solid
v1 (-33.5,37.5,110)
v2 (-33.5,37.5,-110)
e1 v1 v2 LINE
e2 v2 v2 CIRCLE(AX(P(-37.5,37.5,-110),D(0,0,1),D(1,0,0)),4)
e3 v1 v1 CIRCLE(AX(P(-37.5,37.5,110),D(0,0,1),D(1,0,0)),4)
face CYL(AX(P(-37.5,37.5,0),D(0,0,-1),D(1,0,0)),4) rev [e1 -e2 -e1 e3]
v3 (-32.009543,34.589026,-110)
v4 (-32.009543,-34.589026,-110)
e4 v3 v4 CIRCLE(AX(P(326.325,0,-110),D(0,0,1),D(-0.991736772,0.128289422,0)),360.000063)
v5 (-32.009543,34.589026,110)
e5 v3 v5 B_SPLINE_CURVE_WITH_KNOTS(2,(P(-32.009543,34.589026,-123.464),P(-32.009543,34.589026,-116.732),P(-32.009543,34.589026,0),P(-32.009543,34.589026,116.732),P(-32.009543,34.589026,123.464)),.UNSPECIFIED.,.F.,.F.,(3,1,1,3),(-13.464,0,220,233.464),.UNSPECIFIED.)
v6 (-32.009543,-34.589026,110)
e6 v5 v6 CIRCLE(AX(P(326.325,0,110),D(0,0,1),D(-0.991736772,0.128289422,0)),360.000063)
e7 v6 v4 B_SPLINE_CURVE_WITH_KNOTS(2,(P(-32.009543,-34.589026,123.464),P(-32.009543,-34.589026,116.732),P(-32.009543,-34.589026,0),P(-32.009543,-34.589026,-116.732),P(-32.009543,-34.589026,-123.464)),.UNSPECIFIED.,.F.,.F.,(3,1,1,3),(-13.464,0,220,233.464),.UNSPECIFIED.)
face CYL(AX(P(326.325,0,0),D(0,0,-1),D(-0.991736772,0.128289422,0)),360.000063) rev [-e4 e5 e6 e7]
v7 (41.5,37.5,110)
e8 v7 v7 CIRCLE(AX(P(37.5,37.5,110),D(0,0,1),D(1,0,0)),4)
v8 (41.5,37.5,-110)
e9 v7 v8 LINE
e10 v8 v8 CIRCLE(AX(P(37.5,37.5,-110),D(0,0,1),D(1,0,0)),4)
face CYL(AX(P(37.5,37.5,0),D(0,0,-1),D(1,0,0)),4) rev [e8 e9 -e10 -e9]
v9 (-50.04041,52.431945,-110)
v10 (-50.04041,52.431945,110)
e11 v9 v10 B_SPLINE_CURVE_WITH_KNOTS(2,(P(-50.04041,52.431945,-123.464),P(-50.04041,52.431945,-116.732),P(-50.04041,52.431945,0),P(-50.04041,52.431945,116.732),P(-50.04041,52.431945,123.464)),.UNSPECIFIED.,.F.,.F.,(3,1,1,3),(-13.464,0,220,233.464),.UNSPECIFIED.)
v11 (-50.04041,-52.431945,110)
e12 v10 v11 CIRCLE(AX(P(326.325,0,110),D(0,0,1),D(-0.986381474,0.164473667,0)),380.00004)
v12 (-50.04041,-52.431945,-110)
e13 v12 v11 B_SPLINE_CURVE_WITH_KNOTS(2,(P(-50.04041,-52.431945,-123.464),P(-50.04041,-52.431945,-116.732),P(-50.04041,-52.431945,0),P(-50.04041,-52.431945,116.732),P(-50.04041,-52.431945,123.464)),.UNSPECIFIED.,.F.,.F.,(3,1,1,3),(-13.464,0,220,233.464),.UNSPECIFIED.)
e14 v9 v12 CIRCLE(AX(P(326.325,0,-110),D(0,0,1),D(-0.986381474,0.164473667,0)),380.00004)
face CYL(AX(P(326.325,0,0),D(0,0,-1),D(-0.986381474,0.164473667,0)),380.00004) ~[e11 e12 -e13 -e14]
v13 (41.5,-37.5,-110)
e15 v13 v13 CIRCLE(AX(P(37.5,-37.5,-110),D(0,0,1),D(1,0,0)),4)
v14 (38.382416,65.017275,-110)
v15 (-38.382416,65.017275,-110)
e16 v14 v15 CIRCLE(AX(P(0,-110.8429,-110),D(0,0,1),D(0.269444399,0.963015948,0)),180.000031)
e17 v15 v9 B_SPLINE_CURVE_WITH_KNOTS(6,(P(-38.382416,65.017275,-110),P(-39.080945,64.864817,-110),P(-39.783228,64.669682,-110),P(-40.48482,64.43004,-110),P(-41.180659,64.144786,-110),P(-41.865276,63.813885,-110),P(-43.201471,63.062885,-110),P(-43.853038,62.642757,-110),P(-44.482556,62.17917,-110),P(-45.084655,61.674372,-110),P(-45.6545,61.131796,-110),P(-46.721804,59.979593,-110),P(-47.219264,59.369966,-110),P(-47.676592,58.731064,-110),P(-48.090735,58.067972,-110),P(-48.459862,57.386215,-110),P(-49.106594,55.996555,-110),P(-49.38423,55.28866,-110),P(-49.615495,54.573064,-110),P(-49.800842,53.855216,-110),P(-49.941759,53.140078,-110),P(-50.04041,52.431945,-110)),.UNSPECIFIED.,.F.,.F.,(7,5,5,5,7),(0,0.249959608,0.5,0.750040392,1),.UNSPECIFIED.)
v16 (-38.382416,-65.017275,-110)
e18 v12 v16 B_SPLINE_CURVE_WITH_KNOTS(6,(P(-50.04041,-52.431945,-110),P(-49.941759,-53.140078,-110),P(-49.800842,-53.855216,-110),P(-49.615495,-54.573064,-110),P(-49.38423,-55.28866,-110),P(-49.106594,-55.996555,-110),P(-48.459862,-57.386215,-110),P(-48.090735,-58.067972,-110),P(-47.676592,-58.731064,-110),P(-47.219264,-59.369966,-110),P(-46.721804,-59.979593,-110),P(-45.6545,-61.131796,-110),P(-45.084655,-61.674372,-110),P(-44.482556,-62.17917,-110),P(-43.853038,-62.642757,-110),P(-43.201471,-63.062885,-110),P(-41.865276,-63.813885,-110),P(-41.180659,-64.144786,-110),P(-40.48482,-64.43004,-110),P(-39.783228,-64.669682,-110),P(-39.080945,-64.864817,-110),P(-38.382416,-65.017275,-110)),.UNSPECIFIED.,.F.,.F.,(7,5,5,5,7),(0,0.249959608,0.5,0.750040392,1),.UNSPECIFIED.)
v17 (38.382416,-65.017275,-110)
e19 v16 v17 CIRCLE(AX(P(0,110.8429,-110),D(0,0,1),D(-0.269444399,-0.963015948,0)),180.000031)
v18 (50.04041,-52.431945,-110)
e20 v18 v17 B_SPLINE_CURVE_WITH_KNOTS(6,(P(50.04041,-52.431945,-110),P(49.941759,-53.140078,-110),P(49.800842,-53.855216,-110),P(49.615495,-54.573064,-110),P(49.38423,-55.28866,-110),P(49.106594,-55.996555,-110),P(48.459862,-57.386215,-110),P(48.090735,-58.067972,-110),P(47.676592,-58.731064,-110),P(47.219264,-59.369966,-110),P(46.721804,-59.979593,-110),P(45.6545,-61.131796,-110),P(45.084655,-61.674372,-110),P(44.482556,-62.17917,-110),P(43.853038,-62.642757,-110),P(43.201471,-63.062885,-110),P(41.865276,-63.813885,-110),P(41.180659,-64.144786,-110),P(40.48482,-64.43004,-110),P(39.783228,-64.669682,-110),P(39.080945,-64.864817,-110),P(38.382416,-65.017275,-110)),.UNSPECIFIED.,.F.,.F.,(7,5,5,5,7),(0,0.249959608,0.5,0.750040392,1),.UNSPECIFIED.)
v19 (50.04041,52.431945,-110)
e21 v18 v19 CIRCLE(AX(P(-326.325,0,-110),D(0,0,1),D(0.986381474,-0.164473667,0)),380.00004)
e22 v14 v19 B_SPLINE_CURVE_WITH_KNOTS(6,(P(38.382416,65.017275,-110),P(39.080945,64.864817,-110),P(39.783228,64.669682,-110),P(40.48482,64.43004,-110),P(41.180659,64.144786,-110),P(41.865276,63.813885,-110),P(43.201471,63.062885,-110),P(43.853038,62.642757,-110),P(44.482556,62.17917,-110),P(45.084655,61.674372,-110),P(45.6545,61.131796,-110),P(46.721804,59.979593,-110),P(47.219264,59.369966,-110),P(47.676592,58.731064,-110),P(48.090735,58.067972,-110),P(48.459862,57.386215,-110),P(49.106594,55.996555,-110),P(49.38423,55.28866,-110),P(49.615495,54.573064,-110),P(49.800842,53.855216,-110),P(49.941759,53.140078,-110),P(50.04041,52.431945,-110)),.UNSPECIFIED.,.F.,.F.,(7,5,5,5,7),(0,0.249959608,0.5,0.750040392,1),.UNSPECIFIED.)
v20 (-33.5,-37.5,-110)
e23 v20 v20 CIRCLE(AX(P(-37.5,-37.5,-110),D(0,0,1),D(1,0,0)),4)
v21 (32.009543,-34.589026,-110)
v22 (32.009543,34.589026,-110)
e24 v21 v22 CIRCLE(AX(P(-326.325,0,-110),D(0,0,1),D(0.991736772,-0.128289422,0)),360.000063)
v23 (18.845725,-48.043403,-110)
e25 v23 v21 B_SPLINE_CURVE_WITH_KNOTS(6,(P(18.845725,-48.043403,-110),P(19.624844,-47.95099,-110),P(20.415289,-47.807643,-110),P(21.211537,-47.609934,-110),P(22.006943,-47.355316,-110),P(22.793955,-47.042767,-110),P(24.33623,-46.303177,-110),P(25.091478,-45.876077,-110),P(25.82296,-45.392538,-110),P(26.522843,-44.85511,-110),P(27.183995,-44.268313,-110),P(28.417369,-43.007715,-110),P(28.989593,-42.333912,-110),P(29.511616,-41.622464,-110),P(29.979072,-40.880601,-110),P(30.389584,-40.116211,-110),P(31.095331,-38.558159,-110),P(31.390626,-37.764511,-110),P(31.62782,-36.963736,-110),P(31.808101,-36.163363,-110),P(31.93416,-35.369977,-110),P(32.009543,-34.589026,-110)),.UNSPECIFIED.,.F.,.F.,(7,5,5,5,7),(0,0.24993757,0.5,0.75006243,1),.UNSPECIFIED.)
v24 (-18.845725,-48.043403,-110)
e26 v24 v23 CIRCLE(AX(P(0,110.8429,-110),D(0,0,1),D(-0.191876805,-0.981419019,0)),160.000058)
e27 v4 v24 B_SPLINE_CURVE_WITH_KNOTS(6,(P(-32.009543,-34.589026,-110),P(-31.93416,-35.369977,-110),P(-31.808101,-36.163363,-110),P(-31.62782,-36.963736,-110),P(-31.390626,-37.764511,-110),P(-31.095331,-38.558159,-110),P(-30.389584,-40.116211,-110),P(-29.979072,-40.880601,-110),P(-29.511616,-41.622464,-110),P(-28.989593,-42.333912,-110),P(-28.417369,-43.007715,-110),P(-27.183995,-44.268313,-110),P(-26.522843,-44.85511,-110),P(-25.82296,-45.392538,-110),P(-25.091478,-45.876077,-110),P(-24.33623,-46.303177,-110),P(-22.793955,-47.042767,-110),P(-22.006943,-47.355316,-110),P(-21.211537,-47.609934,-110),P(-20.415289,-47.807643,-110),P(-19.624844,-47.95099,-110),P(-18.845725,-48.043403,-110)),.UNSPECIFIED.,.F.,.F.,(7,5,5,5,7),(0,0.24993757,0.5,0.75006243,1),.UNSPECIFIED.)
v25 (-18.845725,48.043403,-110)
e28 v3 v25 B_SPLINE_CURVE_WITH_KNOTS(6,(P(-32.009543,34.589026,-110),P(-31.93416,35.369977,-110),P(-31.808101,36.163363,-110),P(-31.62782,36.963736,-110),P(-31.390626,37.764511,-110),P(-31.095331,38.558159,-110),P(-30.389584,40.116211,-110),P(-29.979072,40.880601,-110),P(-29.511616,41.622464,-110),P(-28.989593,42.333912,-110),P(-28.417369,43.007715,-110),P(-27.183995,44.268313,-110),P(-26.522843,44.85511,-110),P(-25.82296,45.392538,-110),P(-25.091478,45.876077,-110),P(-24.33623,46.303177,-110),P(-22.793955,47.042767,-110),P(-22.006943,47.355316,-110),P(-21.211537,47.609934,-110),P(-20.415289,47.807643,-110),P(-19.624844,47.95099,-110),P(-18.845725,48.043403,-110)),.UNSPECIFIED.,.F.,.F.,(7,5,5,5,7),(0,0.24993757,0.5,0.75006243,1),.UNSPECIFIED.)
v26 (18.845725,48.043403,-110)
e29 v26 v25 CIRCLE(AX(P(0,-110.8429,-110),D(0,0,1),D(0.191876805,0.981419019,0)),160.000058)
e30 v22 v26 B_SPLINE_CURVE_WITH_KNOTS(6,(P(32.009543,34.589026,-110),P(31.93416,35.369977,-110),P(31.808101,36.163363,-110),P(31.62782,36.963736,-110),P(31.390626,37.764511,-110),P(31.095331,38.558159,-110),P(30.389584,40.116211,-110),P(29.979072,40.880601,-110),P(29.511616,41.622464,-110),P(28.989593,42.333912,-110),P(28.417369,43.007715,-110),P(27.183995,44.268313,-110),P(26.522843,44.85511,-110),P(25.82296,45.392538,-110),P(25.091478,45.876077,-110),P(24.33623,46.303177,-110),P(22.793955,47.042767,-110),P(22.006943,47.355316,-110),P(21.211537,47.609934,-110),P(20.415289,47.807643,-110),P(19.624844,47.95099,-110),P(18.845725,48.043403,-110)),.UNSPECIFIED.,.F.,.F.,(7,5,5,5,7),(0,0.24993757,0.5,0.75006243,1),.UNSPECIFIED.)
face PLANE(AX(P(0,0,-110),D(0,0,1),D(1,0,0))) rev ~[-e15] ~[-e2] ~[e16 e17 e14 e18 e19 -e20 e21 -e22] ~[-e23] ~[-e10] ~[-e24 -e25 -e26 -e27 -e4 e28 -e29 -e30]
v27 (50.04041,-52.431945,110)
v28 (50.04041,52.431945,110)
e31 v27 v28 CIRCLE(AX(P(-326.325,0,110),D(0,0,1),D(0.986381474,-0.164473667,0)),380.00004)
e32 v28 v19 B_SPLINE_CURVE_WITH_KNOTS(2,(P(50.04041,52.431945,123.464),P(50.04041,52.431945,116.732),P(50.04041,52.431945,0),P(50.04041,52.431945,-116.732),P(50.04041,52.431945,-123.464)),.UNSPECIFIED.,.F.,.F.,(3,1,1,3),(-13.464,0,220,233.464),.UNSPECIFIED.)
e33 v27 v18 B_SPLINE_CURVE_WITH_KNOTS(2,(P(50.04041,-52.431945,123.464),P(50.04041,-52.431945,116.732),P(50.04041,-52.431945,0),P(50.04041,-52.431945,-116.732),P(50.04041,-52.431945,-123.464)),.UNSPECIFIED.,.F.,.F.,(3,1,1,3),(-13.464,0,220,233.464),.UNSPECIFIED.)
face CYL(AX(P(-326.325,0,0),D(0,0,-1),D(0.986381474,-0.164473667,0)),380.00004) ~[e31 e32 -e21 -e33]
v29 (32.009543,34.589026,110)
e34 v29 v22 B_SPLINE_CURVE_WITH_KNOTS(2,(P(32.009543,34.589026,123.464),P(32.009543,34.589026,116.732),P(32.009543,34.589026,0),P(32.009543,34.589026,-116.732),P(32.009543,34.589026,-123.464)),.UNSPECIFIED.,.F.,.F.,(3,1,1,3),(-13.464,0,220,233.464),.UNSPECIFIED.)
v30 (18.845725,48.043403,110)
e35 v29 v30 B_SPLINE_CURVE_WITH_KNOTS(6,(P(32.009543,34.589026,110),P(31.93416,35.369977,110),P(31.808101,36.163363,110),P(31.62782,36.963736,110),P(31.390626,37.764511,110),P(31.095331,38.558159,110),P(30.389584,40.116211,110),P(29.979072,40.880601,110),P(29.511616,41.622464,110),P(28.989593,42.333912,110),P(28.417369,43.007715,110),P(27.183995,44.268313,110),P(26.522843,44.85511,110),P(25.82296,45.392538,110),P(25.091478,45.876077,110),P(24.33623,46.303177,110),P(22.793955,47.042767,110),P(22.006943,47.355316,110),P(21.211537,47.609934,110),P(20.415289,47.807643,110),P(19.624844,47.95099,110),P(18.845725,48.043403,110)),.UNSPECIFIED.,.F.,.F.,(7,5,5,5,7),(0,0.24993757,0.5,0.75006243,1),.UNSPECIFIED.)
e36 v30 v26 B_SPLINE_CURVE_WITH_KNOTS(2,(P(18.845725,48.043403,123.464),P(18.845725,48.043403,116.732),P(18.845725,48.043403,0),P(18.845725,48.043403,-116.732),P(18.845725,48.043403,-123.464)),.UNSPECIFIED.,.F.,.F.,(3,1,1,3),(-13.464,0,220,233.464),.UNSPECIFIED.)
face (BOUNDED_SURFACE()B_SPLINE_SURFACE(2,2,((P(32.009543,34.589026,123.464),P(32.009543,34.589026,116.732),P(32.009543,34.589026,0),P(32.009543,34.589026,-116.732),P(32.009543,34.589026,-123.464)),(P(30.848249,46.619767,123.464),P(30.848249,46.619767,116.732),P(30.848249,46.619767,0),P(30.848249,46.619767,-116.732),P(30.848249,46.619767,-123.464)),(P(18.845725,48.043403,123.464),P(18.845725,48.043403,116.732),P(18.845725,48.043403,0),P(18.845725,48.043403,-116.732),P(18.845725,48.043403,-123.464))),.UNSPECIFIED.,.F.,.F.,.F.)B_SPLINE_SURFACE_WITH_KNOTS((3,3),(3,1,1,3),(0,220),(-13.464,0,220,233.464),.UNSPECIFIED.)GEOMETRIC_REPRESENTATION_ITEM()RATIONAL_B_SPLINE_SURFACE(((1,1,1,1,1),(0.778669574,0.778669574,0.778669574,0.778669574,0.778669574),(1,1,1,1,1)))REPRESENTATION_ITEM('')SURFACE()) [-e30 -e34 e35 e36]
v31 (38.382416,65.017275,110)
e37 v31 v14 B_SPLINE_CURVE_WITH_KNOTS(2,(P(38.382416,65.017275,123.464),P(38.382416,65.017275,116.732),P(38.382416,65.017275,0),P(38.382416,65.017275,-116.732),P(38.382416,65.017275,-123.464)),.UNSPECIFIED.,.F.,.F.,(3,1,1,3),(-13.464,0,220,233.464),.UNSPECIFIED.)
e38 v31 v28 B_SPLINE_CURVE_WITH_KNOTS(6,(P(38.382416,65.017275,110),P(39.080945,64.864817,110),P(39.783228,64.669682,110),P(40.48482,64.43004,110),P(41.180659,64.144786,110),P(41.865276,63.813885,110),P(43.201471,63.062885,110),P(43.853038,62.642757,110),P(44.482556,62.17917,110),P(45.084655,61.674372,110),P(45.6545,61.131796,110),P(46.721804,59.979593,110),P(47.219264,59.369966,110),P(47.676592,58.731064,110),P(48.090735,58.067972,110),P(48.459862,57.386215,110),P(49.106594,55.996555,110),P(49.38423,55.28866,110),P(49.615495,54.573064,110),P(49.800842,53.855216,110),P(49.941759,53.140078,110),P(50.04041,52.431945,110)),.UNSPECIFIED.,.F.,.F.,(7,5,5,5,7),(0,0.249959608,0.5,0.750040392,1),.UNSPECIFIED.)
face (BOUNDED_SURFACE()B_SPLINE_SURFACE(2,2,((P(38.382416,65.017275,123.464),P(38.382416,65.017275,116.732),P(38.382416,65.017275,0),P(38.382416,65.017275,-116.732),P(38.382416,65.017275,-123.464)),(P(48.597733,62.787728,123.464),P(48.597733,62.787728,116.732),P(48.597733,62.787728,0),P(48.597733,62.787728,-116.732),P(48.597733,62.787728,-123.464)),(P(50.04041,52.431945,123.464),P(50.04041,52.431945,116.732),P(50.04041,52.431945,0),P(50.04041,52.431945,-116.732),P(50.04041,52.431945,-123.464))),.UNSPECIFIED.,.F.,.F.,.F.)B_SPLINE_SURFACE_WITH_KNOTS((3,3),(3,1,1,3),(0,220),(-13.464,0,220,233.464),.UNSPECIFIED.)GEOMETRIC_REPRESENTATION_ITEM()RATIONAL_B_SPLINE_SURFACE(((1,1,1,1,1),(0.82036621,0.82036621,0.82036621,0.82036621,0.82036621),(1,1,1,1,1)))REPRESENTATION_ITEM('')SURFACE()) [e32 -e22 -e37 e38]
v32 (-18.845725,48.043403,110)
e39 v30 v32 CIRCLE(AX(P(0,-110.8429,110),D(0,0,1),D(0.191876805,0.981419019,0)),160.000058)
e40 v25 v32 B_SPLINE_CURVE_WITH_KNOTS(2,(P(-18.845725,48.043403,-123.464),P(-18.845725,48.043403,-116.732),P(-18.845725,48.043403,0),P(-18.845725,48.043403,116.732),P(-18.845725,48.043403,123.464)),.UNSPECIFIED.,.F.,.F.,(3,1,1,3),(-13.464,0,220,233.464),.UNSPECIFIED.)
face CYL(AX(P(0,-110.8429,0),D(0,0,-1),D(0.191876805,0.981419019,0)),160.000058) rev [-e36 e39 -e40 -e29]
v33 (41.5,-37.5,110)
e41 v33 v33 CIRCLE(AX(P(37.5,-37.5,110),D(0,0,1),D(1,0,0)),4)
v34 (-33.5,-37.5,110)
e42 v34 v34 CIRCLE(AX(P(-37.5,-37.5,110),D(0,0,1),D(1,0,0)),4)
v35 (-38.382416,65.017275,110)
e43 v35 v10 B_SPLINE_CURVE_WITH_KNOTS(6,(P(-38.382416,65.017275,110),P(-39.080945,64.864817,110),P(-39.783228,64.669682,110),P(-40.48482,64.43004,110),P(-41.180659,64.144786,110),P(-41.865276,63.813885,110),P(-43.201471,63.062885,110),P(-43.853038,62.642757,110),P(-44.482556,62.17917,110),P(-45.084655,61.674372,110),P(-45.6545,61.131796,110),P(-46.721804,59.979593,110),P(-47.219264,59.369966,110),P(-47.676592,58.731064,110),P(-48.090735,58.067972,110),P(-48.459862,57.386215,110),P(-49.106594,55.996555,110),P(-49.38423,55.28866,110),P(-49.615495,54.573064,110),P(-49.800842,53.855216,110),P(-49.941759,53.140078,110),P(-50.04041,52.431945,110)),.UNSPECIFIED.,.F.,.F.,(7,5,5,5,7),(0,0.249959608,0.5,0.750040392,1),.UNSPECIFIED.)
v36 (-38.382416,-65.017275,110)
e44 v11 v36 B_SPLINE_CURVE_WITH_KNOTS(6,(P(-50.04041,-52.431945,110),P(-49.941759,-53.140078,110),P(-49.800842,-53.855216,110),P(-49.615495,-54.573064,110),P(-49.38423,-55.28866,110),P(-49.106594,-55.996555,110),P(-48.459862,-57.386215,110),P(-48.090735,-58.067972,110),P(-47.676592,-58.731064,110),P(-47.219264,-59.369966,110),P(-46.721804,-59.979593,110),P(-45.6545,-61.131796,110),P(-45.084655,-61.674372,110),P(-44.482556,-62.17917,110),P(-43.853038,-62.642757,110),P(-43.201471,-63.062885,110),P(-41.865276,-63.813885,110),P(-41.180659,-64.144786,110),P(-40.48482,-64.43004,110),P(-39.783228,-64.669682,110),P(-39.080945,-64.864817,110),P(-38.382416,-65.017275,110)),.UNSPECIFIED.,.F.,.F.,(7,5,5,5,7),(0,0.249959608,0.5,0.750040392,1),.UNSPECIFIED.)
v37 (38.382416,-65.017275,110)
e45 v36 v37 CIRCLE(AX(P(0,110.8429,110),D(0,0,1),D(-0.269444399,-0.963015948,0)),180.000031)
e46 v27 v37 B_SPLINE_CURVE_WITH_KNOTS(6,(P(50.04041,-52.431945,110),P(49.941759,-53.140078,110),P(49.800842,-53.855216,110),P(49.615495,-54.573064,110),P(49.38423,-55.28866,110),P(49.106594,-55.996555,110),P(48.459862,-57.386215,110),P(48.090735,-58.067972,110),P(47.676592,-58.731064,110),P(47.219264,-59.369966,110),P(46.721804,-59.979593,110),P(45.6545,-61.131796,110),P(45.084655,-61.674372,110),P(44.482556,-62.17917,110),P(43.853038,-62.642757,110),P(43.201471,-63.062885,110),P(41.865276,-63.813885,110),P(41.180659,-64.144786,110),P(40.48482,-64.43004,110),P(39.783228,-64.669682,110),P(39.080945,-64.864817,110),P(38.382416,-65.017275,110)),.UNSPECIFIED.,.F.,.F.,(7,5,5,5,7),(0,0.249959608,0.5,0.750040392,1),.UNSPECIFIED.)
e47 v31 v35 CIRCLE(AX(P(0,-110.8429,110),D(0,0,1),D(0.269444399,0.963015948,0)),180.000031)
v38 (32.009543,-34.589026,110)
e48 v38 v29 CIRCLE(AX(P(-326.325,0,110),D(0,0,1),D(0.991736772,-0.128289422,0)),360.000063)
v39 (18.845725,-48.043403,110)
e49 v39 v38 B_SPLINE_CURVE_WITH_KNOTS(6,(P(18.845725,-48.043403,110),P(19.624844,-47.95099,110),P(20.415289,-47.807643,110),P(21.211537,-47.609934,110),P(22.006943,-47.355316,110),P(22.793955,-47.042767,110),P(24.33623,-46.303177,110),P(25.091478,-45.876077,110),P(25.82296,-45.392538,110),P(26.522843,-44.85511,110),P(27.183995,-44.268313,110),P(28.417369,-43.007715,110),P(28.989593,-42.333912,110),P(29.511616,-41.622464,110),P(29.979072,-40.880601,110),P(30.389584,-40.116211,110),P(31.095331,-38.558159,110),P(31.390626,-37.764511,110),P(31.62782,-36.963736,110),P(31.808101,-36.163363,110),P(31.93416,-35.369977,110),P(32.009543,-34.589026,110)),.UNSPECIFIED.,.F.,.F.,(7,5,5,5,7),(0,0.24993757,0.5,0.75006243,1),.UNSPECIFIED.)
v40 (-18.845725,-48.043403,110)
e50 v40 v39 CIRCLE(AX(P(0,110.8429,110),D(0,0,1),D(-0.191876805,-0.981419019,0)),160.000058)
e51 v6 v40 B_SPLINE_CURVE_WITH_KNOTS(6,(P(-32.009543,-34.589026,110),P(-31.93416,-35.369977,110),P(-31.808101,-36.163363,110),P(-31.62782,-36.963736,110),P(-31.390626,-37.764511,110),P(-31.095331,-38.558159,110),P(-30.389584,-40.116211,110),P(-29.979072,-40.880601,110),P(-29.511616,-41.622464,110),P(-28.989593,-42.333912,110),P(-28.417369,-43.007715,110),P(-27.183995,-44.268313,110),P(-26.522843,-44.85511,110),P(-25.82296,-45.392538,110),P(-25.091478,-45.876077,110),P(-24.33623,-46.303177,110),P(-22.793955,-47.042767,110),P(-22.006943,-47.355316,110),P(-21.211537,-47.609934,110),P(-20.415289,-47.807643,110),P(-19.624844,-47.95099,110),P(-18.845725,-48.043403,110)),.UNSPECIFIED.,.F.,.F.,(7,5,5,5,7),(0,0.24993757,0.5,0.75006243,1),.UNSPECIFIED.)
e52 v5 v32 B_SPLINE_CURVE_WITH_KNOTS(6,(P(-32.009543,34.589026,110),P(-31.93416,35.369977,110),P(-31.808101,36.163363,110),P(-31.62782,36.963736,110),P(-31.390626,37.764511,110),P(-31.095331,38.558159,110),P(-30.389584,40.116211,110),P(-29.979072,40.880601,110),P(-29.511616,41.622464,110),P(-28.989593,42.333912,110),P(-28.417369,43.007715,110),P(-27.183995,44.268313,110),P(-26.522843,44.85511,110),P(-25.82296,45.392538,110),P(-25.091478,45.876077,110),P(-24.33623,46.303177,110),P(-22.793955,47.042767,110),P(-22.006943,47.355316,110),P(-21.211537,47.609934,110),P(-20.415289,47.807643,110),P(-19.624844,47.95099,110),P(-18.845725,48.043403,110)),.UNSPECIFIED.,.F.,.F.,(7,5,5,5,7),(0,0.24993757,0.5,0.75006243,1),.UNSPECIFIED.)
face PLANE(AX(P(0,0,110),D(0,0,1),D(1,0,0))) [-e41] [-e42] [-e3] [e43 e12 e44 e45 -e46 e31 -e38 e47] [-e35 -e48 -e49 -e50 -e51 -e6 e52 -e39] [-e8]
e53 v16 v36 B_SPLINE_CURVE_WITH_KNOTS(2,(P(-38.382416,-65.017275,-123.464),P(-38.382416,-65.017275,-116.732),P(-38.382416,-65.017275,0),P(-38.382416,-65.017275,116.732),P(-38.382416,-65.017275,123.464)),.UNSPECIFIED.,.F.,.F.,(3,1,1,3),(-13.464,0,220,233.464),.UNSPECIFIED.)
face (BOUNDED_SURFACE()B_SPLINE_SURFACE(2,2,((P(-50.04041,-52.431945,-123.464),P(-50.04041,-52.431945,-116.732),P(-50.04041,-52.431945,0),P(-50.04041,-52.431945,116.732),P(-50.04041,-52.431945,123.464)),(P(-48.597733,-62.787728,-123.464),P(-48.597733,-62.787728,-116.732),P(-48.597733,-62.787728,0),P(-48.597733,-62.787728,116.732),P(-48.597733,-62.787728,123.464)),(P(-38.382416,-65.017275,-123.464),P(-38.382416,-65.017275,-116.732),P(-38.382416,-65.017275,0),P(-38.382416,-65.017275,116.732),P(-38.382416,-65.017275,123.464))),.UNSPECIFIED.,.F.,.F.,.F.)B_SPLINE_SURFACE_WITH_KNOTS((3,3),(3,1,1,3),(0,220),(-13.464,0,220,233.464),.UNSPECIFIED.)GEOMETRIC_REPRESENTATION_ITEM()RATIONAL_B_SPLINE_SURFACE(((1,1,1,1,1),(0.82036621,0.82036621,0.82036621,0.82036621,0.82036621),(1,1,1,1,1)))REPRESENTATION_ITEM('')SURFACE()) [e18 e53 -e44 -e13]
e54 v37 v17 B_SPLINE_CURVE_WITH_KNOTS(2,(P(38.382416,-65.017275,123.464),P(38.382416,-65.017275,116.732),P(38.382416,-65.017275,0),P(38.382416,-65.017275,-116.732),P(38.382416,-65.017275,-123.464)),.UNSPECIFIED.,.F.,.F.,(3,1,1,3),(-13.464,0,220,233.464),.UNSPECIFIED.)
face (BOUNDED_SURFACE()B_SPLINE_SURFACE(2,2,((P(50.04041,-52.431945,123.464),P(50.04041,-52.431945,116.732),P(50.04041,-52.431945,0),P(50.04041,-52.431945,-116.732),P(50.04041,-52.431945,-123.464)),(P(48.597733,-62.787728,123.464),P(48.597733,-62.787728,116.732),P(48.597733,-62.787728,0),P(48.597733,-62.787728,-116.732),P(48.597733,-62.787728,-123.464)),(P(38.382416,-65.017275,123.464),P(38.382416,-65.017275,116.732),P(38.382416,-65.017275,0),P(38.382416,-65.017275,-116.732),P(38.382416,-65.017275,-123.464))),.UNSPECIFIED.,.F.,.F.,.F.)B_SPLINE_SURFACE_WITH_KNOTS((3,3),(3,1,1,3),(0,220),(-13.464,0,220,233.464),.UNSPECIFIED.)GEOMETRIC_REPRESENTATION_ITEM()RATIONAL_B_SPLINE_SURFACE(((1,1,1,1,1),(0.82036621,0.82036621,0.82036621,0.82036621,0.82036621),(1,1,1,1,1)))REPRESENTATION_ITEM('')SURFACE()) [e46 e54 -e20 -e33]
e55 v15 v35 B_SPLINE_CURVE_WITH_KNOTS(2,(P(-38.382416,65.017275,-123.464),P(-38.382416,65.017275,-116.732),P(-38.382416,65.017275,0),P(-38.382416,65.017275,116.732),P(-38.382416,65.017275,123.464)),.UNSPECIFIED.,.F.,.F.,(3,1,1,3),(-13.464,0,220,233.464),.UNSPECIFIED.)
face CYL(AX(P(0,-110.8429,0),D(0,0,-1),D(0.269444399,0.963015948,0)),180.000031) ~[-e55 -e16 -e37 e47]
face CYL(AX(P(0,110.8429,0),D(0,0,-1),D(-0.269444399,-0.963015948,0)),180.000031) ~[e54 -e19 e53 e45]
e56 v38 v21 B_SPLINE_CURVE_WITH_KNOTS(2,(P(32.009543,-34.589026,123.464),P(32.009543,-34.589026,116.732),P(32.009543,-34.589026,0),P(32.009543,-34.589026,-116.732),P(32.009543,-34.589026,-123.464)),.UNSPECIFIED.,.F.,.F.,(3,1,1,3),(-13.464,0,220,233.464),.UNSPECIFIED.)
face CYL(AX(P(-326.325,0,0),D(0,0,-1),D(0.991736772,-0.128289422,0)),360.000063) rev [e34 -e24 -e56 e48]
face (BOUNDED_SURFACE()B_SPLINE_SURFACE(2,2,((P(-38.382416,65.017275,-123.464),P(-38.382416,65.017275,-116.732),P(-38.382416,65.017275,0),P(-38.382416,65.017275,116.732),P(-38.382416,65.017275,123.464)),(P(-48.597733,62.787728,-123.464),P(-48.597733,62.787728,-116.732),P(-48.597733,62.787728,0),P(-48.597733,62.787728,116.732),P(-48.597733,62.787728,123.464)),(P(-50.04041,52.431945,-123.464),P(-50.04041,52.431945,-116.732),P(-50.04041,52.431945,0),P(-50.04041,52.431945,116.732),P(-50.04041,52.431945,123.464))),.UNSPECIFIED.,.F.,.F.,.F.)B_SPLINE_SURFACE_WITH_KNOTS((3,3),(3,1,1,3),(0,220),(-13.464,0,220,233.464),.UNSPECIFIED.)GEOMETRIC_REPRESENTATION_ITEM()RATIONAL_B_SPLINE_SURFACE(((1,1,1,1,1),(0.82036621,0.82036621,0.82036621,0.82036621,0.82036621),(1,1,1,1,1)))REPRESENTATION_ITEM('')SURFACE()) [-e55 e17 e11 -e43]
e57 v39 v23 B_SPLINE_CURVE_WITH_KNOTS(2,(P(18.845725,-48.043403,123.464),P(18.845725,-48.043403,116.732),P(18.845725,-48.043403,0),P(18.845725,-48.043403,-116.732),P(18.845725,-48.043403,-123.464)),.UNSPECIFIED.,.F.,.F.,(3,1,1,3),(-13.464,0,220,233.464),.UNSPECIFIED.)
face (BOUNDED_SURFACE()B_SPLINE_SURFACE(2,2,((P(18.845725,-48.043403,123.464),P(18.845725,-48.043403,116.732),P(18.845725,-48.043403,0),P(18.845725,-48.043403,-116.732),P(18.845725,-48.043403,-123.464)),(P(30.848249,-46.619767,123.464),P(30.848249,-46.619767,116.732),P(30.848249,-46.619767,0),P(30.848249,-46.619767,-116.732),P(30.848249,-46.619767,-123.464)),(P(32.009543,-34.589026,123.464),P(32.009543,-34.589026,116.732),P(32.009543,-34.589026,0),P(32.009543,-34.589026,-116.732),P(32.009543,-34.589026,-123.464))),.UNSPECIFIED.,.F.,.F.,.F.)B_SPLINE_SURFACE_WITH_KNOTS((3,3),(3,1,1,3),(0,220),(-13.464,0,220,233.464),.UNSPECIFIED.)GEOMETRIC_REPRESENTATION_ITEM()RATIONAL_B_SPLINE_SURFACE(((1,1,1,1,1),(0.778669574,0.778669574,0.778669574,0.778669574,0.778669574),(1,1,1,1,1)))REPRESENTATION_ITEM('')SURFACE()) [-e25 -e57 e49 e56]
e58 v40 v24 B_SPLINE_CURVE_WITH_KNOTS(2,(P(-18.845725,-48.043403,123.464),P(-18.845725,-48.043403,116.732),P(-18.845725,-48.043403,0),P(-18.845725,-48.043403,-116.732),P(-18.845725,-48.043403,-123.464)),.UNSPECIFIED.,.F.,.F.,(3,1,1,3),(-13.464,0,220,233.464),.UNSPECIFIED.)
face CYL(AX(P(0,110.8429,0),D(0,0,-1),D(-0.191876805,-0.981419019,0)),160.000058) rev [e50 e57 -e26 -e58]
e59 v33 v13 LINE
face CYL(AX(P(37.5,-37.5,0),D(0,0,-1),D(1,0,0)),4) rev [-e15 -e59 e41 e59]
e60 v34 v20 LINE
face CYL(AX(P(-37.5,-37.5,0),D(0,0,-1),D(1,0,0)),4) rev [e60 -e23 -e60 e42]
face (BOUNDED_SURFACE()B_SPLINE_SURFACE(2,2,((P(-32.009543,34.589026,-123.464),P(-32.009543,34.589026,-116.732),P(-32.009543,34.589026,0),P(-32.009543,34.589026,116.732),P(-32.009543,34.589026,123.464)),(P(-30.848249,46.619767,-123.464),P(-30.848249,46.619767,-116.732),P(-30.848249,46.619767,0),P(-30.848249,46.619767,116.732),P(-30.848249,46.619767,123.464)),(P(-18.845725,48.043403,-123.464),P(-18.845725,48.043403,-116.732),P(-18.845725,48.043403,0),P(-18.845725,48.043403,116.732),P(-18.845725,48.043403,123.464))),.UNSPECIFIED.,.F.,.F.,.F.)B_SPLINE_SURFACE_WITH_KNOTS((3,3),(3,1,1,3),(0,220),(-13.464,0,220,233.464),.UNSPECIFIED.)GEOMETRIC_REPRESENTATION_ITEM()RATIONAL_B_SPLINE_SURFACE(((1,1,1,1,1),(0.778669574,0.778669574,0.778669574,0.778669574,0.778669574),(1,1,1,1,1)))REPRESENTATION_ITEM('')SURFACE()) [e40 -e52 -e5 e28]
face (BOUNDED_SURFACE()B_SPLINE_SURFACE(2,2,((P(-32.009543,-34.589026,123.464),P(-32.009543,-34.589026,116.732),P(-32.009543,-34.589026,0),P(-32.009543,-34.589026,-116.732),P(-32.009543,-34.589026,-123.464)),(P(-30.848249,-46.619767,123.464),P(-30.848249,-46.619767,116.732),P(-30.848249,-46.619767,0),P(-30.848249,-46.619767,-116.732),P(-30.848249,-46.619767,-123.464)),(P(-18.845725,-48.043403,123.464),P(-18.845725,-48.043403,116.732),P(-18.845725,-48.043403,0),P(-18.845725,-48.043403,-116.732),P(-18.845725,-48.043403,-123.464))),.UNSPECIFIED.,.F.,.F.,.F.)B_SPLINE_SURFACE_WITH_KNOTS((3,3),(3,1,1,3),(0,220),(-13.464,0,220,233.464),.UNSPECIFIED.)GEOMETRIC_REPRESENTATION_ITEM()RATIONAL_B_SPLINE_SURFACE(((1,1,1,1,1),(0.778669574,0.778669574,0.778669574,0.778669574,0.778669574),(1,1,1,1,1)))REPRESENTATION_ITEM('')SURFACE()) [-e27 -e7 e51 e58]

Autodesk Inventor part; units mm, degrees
ref_plane "YZ Plane" through (0, 0, 0) normal (1, 0, 0) x (0, 1, 0)
ref_plane "XZ Plane" through (0, 0, 0) normal (0, 1, 0) x (-1, 0, 0)
ref_plane "XY Plane" through (0, 0, 0) normal (0, 0, 1) x (1, 0, 0)
sketch "Sketch1" plane through (0, 0, 0) normal (0, 0, 1) x (1, 0, 0)
  circle A0 centre (-57, 57.5) radius 3
  circle A1 centre (57, 57.5) radius 3
  circle A2 centre (-57, -57.5) radius 3
  circle A3 centre (57, -57.5) radius 3
  line L0 (-57, -57.5) -> (57, 57.5) construction
  line L1 (-67.5, 67.5) -> (67.5, 67.5) construction
  line L2 (67.5, 67.5) -> (67.5, -67.5) construction
  line L3 (67.5, -67.5) -> (-67.5, -67.5) construction
  line L4 (-67.5, -67.5) -> (-67.5, 67.5) construction
  line L5 (-67.5, 67.5) -> (67.5, -67.5) construction
  line L6 (67.5, 67.5) -> (-67.5, -67.5) construction
  circle A4 centre (-37.5, 37.5) radius 4
  circle A5 centre (-37.5, -37.5) radius 4
  circle A6 centre (37.5, -37.5) radius 4
  circle A7 centre (37.5, 37.5) radius 4
  arc A8 (-48.5, 62.5) -> (-48.5, -62.5) centre (326.325, 0) ccw
  line L7 (0, 67.5) -> (0, -67.5) construction
  line L8 (67.5, -67.5) -> (67.5, 67.5) construction
  arc A9 (48.5, -62.5) -> (48.5, 62.5) centre (-326.325, 0) ccw
  arc A10 (48.5, 62.5) -> (-48.5, 62.5) centre (0, -110.8429) ccw
  line L9 (-67.5, 0) -> (53.675, 0) construction
  arc A11 (-48.5, -62.5) -> (48.5, -62.5) centre (0, 110.8429) ccw
  arc A12 (-30.7003, 46.1842) -> (-30.7003, -46.1842) centre (326.325, 0) ccw
  arc A13 (-30.7003, -46.1842) -> (30.7003, -46.1842) centre (0, 110.8429) ccw
  arc A14 (30.7003, -46.1842) -> (30.7003, 46.1842) centre (-326.325, 0) ccw
  arc A15 (30.7003, 46.1842) -> (-30.7003, 46.1842) centre (0, -110.8429) ccw
  point P0 (0, 0)
  point P1 (0, 0)
  point P2 (-53.675, 0)
  point P3 (0, 0)
  dimension "d0" = 114
  dimension "d1" = 115
  dimension "d2" = 6
  dimension "d3" = 135
  dimension "d4" = 135
  dimension "d5" = 8
  dimension "d9" = 360
  dimension "d29" = 75
  dimension "d30" = 125
  dimension "d31" = 97
  dimension "d32" = 180
  dimension "d33" = 380
  dimension "d34" = 20
extrude "Extrusion1" add sketch "Sketch1" along normal mid plane 220 contours A10 A9 A11 A8
fillet "Fillet2" radius 15 8 edges at (48.5, 62.5, 0) (-48.5, 62.5, 0) (-48.5, -62.5, 0) (48.5, -62.5, 0) (-30.7003, 46.1842, 0) (30.7003, 46.1842, 0) (30.7003, -46.1842, 0) (-30.7003, -46.1842, 0)
properties part number "lineaire as deel 1" material "Aluminum 6061"
